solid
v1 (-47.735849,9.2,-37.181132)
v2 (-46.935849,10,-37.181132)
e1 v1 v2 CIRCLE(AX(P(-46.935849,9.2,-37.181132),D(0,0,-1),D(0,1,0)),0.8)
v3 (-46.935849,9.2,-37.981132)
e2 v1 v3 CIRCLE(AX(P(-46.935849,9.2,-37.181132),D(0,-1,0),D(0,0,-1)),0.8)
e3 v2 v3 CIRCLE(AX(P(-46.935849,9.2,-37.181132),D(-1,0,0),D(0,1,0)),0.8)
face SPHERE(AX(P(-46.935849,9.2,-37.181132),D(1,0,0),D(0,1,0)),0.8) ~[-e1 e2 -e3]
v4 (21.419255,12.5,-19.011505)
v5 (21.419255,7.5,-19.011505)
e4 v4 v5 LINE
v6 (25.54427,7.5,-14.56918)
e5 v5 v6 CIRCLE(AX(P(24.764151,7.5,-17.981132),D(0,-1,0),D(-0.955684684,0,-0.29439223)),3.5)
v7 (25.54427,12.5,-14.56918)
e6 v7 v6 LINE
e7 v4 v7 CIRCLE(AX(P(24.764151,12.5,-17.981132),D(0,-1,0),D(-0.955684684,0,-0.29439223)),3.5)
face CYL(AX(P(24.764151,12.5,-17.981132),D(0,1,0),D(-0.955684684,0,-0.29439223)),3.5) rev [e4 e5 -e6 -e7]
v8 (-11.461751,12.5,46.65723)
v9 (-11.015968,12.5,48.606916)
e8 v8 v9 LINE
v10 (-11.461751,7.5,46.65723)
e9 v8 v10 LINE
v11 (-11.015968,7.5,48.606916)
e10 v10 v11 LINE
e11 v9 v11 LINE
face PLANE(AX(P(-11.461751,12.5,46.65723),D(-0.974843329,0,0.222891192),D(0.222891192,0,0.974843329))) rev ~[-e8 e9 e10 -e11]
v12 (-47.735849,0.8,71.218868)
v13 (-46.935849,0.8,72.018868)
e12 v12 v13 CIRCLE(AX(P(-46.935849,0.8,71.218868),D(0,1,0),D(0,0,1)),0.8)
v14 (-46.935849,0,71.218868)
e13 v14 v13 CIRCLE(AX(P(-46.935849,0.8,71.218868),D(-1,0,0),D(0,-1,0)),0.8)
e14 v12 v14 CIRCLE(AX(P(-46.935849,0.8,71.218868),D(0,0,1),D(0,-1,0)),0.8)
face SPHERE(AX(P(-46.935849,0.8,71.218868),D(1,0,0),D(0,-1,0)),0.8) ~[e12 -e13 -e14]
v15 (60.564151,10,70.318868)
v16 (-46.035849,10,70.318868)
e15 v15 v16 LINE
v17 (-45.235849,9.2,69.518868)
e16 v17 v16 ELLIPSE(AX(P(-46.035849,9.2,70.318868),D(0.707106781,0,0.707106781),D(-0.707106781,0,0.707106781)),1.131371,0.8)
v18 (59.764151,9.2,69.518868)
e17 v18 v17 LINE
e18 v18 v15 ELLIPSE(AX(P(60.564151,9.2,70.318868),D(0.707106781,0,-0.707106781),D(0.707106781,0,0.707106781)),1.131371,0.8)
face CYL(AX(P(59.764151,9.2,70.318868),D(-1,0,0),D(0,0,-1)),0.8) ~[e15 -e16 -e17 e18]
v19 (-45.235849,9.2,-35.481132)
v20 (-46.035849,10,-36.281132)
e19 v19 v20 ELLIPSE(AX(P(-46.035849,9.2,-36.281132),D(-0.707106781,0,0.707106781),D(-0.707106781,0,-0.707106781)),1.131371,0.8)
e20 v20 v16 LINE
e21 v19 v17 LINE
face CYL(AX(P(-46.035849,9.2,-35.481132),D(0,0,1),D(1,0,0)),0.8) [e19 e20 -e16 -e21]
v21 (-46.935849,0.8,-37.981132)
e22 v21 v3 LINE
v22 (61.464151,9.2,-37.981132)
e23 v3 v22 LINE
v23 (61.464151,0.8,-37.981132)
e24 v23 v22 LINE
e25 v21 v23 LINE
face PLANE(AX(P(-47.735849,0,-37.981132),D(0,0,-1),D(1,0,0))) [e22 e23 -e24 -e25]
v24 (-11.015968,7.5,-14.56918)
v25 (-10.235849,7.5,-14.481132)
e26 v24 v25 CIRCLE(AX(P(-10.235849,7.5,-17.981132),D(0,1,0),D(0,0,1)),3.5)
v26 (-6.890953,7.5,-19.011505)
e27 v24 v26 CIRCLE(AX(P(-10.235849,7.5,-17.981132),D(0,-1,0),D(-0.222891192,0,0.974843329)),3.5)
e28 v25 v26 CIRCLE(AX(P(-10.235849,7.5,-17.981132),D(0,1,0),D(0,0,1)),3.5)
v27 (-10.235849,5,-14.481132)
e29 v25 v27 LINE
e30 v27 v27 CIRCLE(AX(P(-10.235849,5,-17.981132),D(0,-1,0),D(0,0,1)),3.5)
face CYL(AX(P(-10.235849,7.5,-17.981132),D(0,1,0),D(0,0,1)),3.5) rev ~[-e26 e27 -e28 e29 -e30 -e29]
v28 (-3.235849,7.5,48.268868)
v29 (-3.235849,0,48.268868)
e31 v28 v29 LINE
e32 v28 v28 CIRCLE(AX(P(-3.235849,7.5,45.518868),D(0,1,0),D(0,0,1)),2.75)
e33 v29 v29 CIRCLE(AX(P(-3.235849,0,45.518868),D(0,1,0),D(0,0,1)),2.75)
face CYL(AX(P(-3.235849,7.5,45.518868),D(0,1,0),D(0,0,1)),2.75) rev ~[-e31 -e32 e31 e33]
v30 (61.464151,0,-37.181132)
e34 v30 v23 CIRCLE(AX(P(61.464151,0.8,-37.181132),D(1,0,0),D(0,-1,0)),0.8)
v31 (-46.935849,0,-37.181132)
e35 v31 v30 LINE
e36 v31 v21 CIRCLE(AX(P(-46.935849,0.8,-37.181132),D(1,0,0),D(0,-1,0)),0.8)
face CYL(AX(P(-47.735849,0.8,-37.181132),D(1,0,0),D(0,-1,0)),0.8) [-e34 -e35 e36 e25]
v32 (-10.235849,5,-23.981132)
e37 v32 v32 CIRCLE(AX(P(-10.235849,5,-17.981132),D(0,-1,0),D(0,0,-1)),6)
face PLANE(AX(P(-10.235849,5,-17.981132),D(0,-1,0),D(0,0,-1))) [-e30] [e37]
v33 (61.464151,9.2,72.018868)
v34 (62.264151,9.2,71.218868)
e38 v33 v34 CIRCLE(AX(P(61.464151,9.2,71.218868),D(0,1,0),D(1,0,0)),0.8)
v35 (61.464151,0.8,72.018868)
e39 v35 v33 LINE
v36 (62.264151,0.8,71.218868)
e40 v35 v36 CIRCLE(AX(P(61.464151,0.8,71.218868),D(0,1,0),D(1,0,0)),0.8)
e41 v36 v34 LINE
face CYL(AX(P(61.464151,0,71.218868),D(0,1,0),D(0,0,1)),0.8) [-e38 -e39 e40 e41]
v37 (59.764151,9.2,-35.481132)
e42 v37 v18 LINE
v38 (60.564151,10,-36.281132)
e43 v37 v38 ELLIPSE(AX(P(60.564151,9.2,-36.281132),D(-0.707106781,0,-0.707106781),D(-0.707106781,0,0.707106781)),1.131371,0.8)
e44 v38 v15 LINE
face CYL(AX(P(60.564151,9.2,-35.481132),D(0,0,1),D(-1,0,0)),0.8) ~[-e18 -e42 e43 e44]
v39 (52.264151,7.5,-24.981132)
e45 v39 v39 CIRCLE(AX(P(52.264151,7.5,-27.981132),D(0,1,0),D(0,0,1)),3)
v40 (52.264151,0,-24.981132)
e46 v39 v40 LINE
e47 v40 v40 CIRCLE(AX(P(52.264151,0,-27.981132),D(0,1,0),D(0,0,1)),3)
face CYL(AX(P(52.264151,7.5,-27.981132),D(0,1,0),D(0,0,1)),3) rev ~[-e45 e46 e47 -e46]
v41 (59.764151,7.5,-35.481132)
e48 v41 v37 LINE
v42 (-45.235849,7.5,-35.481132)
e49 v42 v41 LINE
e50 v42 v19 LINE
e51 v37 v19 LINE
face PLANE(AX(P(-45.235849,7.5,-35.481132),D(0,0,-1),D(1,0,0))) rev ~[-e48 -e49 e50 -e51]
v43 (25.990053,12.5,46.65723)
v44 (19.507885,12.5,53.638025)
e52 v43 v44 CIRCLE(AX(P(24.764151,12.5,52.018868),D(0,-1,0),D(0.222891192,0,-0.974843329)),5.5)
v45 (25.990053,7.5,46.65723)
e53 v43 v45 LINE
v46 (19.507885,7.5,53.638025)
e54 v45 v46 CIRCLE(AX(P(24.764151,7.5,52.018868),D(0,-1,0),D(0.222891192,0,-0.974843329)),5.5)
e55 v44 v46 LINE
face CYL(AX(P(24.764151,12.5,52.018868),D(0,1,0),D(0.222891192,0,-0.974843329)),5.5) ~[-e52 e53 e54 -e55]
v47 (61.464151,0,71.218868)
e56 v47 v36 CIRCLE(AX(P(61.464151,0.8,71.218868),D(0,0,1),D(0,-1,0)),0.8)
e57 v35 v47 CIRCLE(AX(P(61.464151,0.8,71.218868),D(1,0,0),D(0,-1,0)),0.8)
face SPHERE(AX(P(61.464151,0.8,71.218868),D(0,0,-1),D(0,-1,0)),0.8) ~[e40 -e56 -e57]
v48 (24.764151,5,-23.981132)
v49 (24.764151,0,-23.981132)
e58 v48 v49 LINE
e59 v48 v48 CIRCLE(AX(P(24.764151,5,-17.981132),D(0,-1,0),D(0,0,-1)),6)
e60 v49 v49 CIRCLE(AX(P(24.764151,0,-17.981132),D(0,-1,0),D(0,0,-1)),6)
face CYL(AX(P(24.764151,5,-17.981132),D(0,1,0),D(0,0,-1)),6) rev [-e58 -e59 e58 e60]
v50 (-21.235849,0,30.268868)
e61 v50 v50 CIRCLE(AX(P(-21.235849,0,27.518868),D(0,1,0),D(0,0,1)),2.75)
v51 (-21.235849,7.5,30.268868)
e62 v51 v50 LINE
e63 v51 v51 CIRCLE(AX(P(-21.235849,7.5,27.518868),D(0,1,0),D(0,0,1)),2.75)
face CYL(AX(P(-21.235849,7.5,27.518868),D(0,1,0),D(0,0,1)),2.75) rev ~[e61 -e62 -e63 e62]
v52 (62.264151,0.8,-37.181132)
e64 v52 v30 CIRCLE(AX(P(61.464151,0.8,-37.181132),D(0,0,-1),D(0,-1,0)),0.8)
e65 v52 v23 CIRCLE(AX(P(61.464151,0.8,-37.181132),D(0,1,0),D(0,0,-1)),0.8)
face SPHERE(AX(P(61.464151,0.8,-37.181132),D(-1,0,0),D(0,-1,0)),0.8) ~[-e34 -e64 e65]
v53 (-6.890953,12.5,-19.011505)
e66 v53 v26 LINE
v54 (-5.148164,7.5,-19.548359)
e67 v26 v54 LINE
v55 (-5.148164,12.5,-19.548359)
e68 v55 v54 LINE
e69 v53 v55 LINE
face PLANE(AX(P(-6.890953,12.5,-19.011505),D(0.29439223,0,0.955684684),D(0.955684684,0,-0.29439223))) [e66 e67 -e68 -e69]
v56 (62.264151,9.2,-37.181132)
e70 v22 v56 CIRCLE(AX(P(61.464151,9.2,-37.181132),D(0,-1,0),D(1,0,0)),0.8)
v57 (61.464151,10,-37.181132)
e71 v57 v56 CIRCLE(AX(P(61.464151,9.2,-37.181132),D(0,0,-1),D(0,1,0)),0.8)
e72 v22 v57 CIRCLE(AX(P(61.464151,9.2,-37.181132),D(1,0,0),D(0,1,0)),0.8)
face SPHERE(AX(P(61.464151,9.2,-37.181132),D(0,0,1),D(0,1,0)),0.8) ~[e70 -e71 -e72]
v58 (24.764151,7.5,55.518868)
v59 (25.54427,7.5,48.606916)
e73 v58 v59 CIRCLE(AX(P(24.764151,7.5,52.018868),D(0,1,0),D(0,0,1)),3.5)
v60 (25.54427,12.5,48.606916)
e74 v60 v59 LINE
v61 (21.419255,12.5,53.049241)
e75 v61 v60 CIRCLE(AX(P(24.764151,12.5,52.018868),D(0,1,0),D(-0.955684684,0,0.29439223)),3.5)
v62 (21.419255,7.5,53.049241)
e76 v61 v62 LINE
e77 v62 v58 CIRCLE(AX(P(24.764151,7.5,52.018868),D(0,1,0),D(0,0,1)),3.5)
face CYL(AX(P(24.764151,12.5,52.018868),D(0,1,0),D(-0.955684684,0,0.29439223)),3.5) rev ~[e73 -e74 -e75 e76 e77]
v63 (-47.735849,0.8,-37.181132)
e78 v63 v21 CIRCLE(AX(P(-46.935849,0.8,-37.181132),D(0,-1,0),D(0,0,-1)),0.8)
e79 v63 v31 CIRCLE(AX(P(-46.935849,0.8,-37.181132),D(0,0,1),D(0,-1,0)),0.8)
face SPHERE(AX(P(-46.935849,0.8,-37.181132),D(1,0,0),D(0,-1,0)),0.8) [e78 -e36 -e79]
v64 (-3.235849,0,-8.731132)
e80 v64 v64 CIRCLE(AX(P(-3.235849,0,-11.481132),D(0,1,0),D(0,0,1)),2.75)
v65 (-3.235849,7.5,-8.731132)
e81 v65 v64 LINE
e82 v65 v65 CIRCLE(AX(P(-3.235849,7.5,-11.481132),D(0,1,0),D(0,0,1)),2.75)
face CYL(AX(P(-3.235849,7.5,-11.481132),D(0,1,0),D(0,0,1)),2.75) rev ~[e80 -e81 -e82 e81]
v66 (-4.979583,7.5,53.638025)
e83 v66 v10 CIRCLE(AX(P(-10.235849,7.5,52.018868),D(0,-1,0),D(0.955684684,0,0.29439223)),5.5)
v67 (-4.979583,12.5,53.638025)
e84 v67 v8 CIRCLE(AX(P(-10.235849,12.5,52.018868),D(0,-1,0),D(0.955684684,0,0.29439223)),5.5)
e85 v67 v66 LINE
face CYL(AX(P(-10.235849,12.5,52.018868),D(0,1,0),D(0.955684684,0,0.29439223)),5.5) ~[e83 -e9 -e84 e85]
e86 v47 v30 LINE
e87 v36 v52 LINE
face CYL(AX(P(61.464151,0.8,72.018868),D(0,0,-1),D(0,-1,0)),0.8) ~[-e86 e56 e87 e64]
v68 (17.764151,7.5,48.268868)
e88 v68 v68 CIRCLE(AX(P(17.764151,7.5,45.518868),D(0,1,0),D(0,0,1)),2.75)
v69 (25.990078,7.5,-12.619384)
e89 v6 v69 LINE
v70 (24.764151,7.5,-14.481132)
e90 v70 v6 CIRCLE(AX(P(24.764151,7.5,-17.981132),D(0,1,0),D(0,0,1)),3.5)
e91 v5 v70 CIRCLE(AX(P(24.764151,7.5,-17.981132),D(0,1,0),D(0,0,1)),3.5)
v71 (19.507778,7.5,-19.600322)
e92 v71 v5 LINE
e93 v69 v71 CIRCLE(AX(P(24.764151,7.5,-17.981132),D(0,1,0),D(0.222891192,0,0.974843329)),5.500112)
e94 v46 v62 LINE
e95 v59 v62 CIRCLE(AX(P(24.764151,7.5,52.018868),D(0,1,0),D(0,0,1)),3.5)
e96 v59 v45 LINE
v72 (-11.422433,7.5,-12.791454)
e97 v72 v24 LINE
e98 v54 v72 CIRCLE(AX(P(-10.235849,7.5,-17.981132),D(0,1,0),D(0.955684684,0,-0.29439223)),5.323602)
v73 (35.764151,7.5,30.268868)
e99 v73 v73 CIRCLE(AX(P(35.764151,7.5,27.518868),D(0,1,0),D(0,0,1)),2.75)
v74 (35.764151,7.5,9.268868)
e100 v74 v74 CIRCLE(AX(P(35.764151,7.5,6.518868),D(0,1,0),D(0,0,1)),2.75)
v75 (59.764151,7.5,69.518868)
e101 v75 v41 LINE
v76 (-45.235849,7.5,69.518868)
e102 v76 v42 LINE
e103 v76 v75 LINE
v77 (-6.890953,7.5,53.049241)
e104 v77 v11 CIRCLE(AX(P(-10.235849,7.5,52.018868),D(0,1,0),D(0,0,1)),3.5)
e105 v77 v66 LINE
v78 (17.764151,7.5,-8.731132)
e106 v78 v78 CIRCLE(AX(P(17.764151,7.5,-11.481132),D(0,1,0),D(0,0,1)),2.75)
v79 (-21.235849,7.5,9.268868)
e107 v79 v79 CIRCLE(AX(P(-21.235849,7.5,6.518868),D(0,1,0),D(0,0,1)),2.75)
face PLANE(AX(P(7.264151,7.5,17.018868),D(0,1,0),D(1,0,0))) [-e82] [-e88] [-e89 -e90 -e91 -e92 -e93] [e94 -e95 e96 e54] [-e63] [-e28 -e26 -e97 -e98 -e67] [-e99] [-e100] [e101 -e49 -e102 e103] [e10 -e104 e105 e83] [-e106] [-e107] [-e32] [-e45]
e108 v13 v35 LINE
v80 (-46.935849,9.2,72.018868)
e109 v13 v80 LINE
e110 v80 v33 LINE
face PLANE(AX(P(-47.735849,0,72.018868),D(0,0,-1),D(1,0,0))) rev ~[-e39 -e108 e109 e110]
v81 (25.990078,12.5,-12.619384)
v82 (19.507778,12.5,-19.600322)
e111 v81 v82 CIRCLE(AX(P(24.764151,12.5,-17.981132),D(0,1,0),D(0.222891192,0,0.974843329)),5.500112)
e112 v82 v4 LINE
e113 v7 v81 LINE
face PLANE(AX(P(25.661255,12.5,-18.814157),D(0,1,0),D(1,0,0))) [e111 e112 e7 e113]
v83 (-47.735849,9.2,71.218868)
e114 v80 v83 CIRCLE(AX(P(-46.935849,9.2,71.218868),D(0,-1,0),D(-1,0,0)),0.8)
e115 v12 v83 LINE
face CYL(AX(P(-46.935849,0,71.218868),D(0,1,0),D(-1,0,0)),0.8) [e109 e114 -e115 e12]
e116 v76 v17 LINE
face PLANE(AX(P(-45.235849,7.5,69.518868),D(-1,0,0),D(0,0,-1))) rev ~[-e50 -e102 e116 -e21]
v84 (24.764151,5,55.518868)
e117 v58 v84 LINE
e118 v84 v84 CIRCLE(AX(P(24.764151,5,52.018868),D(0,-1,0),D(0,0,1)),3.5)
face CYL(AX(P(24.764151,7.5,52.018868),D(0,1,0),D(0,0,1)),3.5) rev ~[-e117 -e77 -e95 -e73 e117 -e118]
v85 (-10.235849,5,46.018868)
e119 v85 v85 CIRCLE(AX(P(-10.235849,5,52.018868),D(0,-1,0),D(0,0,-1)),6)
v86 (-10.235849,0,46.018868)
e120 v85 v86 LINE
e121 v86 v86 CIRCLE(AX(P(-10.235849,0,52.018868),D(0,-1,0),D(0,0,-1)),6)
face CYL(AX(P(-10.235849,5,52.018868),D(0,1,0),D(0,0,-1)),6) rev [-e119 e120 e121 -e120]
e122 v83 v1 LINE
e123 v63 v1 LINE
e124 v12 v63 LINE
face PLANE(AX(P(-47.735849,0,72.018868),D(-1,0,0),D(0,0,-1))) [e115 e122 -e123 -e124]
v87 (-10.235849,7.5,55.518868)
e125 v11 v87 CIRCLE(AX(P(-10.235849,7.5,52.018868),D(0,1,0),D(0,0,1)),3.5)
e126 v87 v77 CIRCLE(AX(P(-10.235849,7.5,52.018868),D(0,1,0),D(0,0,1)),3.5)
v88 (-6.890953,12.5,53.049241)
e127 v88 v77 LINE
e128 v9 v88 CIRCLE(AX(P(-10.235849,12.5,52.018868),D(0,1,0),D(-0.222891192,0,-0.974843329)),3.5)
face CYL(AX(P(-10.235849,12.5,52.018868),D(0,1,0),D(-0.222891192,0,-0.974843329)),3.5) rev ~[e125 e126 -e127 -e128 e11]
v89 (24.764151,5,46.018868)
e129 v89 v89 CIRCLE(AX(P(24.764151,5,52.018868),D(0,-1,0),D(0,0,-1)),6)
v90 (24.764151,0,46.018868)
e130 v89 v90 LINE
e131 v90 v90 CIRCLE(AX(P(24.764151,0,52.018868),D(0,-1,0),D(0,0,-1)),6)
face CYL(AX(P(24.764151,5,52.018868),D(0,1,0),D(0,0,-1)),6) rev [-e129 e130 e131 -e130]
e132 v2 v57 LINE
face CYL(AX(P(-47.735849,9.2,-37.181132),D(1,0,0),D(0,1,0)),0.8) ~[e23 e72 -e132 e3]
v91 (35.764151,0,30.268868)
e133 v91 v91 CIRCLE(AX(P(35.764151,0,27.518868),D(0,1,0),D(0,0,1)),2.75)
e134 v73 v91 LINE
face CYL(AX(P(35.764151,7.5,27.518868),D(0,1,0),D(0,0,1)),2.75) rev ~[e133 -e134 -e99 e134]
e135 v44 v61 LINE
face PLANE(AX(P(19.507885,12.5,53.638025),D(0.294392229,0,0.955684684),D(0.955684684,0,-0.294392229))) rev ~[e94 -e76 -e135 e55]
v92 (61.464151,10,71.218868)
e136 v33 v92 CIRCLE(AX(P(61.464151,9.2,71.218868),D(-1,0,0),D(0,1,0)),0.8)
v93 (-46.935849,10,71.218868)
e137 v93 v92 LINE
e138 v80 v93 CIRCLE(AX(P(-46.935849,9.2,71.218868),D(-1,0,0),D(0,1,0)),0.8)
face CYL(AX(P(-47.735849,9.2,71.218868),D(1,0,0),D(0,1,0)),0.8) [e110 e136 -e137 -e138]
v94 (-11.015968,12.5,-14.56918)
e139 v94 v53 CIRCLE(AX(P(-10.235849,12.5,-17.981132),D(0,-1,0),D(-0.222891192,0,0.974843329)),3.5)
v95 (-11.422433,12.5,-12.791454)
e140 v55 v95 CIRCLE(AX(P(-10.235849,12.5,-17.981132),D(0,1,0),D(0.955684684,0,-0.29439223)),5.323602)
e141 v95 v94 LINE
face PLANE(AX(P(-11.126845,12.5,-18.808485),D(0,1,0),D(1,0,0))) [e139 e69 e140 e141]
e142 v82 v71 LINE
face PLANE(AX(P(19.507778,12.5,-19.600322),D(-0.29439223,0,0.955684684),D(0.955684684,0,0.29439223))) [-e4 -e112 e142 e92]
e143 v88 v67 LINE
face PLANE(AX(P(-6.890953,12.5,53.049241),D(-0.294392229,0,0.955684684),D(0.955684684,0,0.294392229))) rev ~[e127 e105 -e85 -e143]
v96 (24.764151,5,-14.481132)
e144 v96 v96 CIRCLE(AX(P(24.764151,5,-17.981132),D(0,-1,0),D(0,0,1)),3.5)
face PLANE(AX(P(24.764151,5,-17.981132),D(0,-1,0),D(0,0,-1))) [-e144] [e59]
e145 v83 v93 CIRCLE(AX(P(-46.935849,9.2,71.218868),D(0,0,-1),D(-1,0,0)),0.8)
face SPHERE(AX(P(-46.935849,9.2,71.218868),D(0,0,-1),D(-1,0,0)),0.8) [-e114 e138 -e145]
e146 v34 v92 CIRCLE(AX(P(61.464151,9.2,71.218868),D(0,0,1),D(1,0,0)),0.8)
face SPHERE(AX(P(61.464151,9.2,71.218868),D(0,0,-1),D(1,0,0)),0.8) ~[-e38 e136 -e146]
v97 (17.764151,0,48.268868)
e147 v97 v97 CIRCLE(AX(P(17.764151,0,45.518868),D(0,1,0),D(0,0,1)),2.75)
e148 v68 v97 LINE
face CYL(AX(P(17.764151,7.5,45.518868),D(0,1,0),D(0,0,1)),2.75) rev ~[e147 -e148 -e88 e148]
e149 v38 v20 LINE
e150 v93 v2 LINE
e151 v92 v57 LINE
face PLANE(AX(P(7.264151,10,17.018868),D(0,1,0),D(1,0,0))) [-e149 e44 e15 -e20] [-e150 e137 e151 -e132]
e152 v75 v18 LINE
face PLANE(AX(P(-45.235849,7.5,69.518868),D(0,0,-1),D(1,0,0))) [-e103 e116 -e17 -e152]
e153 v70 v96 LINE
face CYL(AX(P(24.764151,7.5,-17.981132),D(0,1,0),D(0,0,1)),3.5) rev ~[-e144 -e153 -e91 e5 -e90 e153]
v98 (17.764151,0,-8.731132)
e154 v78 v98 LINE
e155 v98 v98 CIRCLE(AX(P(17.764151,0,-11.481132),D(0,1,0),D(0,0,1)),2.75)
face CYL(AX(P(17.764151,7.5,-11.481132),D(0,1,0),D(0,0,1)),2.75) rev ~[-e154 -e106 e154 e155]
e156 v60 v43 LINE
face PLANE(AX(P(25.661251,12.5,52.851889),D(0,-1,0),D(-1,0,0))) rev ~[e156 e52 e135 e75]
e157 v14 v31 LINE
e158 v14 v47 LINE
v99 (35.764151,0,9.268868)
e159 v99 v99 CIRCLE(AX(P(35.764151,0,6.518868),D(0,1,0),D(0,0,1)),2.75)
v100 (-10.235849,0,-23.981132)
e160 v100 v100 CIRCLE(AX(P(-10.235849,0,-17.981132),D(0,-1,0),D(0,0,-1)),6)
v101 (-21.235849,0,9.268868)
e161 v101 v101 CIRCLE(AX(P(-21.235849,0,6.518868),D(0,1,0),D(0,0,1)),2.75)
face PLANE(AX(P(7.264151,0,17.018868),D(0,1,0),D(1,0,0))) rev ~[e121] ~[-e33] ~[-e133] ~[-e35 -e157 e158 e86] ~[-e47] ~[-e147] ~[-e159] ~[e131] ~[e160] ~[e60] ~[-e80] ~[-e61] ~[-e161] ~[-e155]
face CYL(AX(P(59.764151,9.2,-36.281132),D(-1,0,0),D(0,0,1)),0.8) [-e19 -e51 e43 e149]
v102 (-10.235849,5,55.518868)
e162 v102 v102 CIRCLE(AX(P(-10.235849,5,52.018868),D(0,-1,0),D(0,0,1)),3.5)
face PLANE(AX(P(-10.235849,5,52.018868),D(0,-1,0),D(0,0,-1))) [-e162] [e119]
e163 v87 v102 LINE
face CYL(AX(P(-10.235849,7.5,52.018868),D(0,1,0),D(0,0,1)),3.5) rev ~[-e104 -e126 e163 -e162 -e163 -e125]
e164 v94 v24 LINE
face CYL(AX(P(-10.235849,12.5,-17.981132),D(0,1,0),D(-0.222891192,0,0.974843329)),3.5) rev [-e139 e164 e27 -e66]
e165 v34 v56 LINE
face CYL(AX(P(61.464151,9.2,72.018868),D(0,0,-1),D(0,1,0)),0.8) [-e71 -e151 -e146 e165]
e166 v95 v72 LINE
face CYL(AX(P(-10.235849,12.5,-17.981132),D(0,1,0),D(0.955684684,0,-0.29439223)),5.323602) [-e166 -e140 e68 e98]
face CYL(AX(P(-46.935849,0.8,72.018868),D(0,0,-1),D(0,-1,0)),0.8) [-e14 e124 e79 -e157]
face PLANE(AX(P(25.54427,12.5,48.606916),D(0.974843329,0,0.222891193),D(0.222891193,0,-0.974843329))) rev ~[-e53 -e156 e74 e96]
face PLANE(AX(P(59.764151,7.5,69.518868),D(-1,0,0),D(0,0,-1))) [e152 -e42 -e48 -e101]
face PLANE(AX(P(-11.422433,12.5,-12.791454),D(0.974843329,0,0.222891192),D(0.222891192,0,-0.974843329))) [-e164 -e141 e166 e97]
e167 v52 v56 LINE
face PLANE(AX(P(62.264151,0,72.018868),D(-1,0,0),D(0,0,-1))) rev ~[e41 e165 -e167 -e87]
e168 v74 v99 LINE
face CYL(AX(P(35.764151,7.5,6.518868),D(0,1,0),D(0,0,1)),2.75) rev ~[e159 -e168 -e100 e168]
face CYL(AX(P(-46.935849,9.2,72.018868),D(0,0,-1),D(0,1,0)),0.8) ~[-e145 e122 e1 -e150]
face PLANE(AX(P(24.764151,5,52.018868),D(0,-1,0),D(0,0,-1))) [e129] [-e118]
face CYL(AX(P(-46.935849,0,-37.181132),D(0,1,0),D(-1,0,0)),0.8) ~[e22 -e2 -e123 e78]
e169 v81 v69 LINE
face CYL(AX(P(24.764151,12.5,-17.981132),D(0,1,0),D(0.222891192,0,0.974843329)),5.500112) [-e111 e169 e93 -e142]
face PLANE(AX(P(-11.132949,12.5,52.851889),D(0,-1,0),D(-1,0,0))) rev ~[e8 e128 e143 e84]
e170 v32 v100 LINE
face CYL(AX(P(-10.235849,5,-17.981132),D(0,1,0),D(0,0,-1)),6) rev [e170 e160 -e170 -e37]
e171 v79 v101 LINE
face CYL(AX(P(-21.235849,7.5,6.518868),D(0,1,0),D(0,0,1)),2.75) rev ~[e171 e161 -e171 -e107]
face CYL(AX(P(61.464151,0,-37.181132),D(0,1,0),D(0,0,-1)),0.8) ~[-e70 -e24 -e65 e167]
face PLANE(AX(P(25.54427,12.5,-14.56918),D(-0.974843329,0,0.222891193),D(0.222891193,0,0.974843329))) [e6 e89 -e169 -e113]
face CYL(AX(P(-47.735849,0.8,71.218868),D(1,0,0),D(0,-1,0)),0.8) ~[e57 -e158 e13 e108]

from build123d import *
from build123d.topology import SkipClean

# Parameters (mm, degrees)
SKETCH1_W               = 110
SKETCH1_H               = 110
BOSS_EXTRUDE1_DEPTH     = 10
CUT_EXTRUDE1_DEPTH      = 1
CUT_EXTRUDE1_DEPTH_BACK = 2.5
SKETCH2_W               = 105
SKETCH2_H               = 105
SKETCH5_R               = 2.75
CUT_EXTRUDE2_DEPTH      = 10
SKETCH6_R               = 3.5
CUT_EXTRUDE3_DEPTH      = 12.5
BOSS_EXTRUDE2_START     = 5
BOSS_EXTRUDE2_DEPTH     = 5
BOSS_EXTRUDE3_START     = 5
BOSS_EXTRUDE3_DEPTH     = 5
CUT_EXTRUDE5_START      = -5
SKETCH20_R              = 6
SKETCH20_R_2            = 3.5
CUT_EXTRUDE5_DEPTH      = 5
FILLET1_R               = 0.8
SKETCH23_R              = 3
CUT_EXTRUDE6_DEPTH      = 10


with BuildPart() as part:
    # Sketch1 → Boss-Extrude1 (new body)
    with BuildSketch(Plane(origin=(0, 0, 0), x_dir=(1, 0, 0), z_dir=(0, 1, 0))):
        with Locations((7.264150943, -17.018867925)):
            Rectangle(SKETCH1_W, SKETCH1_H)
    extrude(amount=BOSS_EXTRUDE1_DEPTH)

    # Sketch2 → Cut-Extrude1 (cut, two sides: drawn at the far end of the back side and taken through both)
    with BuildSketch(Plane(origin=(0, 10, 0), x_dir=(1, 0, 0), z_dir=(0, 1, 0)).offset(-CUT_EXTRUDE1_DEPTH_BACK)):
        with Locations((7.264150943, -17.018867925)):
            Rectangle(SKETCH2_W, SKETCH2_H)
    extrude(amount=CUT_EXTRUDE1_DEPTH + CUT_EXTRUDE1_DEPTH_BACK, mode=Mode.SUBTRACT)

    # Sketch5 → Cut-Extrude2 (cut)
    with BuildSketch(Plane(origin=(0, 7.5, 0), x_dir=(1, 0, 0), z_dir=(0, 1, 0))):
        with Locations(Location((-3.235849057, 11.481132075, 0), (0, 0, 270))):
            Circle(SKETCH5_R)
        with Locations(Location((17.764150943, 11.481132075, 0), (0, 0, 270))):
            Circle(SKETCH5_R)
        with Locations(Location((-3.235849057, -45.518867925, 0), (0, 0, 270))):
            Circle(SKETCH5_R)
        with Locations(Location((17.764150943, -45.518867925, 0), (0, 0, 270))):
            Circle(SKETCH5_R)
        with Locations(Location((-21.235849057, -6.518867925, 0), (0, 0, 270))):
            Circle(SKETCH5_R)
        with Locations(Location((-21.235849057, -27.518867925, 0), (0, 0, 270))):
            Circle(SKETCH5_R)
        with Locations(Location((35.764150943, -6.518867925, 0), (0, 0, 270))):
            Circle(SKETCH5_R)
        with Locations(Location((35.764150943, -27.518867925, 0), (0, 0, 270))):
            Circle(SKETCH5_R)
    extrude(amount=-CUT_EXTRUDE2_DEPTH, mode=Mode.SUBTRACT)

    # Sketch6 → Cut-Extrude3 (cut)
    with BuildSketch(Plane(origin=(0, 7.5, 0), x_dir=(1, 0, 0), z_dir=(0, 1, 0))):
        with Locations(Location((-10.235849057, 17.981132075, 0), (0, 0, 270))):
            Circle(SKETCH6_R)
        with Locations(Location((24.764150943, 17.981132075, 0), (0, 0, 270))):
            Circle(SKETCH6_R)
        with Locations(Location((-10.235849057, -52.018867925, 0), (0, 0, 270))):
            Circle(SKETCH6_R)
        with Locations(Location((24.764150943, -52.018867925, 0), (0, 0, 270))):
            Circle(SKETCH6_R)
    extrude(amount=-CUT_EXTRUDE3_DEPTH, mode=Mode.SUBTRACT)

    # Sketch8 → Boss-Extrude2 (add)
    with SkipClean():  # the faces are left unmerged after this step: merging them gives an invalid solid
        with BuildSketch(Plane(origin=(0, 7.5, 0), x_dir=(1, 0, 0), z_dir=(0, 1, 0)).offset(BOSS_EXTRUDE2_START)):
            with BuildLine():
                Line((19.507777717, 19.600322443), (21.41925455, 19.01150488))
                ThreePointArc((21.41925455, 19.01150488), (27.328928164, 20.362710923), (25.544270116, 14.569180423))
                Line((25.544270116, 14.569180423), (25.990077565, 12.619384146))
                ThreePointArc((25.990077565, 12.619384146), (28.794597548, 21.723689637), (19.507777717, 19.600322443))
            make_face()
        extrude(amount=-BOSS_EXTRUDE2_DEPTH)

    # Sketch15 → Boss-Extrude3 (add)
    with SkipClean():  # the faces are left unmerged after this step: merging them gives an invalid solid
        with BuildSketch(Plane(origin=(0, 7.5, 0), x_dir=(1, 0, 0), z_dir=(0, 1, 0)).offset(BOSS_EXTRUDE3_START)):
            with BuildLine():
                Line((-11.422433018, 12.791454335), (-11.01596823, 14.569180423))
                ThreePointArc((-11.01596823, 14.569180423), (-12.800626277, 20.362710923), (-6.890952663, 19.01150488))
                Line((-6.890952663, 19.01150488), (-5.148164315, 19.548359092))
                ThreePointArc((-5.148164315, 19.548359092), (-14.136949837, 21.6035828), (-11.422433018, 12.791454335))
            make_face()
            with BuildLine():
                Line((-11.461750614, -46.657229614), (-11.01596823, -48.606916272))
                ThreePointArc((-11.01596823, -48.606916272), (-12.800626277, -54.400446772), (-6.890952663, -53.049240729))
                Line((-6.890952663, -53.049240729), (-4.979583295, -53.638025188))
                ThreePointArc((-4.979583295, -53.638025188), (-14.266213261, -55.761348971), (-11.461750614, -46.657229614))
            make_face()
            with BuildLine():
                Line((19.507885182, -53.638025188), (21.41925455, -53.049240729))
                ThreePointArc((21.41925455, -53.049240729), (27.328928164, -54.400446772), (25.544270116, -48.606916272))
                Line((25.544270116, -48.606916272), (25.990052501, -46.657229614))
                ThreePointArc((25.990052501, -46.657229614), (28.794515147, -55.761348971), (19.507885182, -53.638025188))
            make_face()
        extrude(amount=-BOSS_EXTRUDE3_DEPTH)

    # Sketch20 → Cut-Extrude5 (cut)
    # profile 1 of 4: a face of its own
    with SkipClean():  # the faces are left unmerged after this step: merging them gives an invalid solid
        with BuildSketch(Plane.XZ.offset(CUT_EXTRUDE5_START)):
            with Locations(Location((-10.235849057, 52.018867925, 0), (0, 0, 270))):
                Circle(SKETCH20_R)
            with Locations(Location((-10.235849057, 52.018867925, 0), (0, 0, 17.121096397))):
                Circle(SKETCH20_R_2, mode=Mode.SUBTRACT)
        # profile 2 of 4: a face of its own
        with BuildSketch(Plane.XZ.offset(CUT_EXTRUDE5_START)):
            with Locations(Location((-10.235849057, -17.981132075, 0), (0, 0, 270))):
                Circle(SKETCH20_R)
            with Locations(Location((-10.235849057, -17.981132075, 0), (0, 0, 102.878903603))):
                Circle(SKETCH20_R_2, mode=Mode.SUBTRACT)
        # profile 3 of 4: a face of its own
        with BuildSketch(Plane.XZ.offset(CUT_EXTRUDE5_START)):
            with Locations(Location((24.764150943, -17.981132075, 0), (0, 0, 270))):
                Circle(SKETCH20_R)
            with Locations(Location((24.764150943, -17.981132075, 0), (0, 0, 77.121096397))):
                Circle(SKETCH20_R_2, mode=Mode.SUBTRACT)
        # profile 4 of 4: a face of its own
        with BuildSketch(Plane.XZ.offset(CUT_EXTRUDE5_START)):
            with Locations(Location((24.764150943, 52.018867925, 0), (0, 0, 270))):
                Circle(SKETCH20_R)
            with Locations(Location((24.764150943, 52.018867925, 0), (0, 0, 162.878903603))):
                Circle(SKETCH20_R_2, mode=Mode.SUBTRACT)
        extrude(amount=CUT_EXTRUDE5_DEPTH, mode=Mode.SUBTRACT)

    # Fillet1
    fillet1_edges = [part.edges().sort_by_distance(p)[0] for p in [
        (62.264150943, 10, 17.018867925),
        (7.264150943, 10, -35.481132075),
        (59.764150943, 10, 17.018867925),
        (7.264150943, 10, 69.518867925),
        (-45.235849057, 10, 17.018867925),
        (7.264150943, 10, -37.981132075),
        (-47.735849057, 10, 17.018867925),
        (7.264150943, 0, -37.981132075),
        (62.264150943, 0, 17.018867925),
        (7.264150943, 0, 72.018867925),
        (-47.735849057, 0, 17.018867925),
        (-47.735849057, 5, -37.981132075),
        (62.264150943, 5, -37.981132075),
        (62.264150943, 5, 72.018867925),
        (-47.735849057, 5, 72.018867925),
        (7.264150943, 10, 72.018867925),
    ]]
    fillet(fillet1_edges, radius=FILLET1_R)

    # Sketch23 → Cut-Extrude6 (cut)
    with SkipClean():  # the faces are left unmerged after this step: merging them gives an invalid solid
        with BuildSketch(Plane(origin=(0, 7.5, 0), x_dir=(1, 0, 0), z_dir=(0, 1, 0))):
            with Locations(Location((52.264150943, 27.981132075, 0), (0, 0, 270))):
                Circle(SKETCH23_R)
        extrude(amount=-CUT_EXTRUDE6_DEPTH, mode=Mode.SUBTRACT)


solid = part.part
